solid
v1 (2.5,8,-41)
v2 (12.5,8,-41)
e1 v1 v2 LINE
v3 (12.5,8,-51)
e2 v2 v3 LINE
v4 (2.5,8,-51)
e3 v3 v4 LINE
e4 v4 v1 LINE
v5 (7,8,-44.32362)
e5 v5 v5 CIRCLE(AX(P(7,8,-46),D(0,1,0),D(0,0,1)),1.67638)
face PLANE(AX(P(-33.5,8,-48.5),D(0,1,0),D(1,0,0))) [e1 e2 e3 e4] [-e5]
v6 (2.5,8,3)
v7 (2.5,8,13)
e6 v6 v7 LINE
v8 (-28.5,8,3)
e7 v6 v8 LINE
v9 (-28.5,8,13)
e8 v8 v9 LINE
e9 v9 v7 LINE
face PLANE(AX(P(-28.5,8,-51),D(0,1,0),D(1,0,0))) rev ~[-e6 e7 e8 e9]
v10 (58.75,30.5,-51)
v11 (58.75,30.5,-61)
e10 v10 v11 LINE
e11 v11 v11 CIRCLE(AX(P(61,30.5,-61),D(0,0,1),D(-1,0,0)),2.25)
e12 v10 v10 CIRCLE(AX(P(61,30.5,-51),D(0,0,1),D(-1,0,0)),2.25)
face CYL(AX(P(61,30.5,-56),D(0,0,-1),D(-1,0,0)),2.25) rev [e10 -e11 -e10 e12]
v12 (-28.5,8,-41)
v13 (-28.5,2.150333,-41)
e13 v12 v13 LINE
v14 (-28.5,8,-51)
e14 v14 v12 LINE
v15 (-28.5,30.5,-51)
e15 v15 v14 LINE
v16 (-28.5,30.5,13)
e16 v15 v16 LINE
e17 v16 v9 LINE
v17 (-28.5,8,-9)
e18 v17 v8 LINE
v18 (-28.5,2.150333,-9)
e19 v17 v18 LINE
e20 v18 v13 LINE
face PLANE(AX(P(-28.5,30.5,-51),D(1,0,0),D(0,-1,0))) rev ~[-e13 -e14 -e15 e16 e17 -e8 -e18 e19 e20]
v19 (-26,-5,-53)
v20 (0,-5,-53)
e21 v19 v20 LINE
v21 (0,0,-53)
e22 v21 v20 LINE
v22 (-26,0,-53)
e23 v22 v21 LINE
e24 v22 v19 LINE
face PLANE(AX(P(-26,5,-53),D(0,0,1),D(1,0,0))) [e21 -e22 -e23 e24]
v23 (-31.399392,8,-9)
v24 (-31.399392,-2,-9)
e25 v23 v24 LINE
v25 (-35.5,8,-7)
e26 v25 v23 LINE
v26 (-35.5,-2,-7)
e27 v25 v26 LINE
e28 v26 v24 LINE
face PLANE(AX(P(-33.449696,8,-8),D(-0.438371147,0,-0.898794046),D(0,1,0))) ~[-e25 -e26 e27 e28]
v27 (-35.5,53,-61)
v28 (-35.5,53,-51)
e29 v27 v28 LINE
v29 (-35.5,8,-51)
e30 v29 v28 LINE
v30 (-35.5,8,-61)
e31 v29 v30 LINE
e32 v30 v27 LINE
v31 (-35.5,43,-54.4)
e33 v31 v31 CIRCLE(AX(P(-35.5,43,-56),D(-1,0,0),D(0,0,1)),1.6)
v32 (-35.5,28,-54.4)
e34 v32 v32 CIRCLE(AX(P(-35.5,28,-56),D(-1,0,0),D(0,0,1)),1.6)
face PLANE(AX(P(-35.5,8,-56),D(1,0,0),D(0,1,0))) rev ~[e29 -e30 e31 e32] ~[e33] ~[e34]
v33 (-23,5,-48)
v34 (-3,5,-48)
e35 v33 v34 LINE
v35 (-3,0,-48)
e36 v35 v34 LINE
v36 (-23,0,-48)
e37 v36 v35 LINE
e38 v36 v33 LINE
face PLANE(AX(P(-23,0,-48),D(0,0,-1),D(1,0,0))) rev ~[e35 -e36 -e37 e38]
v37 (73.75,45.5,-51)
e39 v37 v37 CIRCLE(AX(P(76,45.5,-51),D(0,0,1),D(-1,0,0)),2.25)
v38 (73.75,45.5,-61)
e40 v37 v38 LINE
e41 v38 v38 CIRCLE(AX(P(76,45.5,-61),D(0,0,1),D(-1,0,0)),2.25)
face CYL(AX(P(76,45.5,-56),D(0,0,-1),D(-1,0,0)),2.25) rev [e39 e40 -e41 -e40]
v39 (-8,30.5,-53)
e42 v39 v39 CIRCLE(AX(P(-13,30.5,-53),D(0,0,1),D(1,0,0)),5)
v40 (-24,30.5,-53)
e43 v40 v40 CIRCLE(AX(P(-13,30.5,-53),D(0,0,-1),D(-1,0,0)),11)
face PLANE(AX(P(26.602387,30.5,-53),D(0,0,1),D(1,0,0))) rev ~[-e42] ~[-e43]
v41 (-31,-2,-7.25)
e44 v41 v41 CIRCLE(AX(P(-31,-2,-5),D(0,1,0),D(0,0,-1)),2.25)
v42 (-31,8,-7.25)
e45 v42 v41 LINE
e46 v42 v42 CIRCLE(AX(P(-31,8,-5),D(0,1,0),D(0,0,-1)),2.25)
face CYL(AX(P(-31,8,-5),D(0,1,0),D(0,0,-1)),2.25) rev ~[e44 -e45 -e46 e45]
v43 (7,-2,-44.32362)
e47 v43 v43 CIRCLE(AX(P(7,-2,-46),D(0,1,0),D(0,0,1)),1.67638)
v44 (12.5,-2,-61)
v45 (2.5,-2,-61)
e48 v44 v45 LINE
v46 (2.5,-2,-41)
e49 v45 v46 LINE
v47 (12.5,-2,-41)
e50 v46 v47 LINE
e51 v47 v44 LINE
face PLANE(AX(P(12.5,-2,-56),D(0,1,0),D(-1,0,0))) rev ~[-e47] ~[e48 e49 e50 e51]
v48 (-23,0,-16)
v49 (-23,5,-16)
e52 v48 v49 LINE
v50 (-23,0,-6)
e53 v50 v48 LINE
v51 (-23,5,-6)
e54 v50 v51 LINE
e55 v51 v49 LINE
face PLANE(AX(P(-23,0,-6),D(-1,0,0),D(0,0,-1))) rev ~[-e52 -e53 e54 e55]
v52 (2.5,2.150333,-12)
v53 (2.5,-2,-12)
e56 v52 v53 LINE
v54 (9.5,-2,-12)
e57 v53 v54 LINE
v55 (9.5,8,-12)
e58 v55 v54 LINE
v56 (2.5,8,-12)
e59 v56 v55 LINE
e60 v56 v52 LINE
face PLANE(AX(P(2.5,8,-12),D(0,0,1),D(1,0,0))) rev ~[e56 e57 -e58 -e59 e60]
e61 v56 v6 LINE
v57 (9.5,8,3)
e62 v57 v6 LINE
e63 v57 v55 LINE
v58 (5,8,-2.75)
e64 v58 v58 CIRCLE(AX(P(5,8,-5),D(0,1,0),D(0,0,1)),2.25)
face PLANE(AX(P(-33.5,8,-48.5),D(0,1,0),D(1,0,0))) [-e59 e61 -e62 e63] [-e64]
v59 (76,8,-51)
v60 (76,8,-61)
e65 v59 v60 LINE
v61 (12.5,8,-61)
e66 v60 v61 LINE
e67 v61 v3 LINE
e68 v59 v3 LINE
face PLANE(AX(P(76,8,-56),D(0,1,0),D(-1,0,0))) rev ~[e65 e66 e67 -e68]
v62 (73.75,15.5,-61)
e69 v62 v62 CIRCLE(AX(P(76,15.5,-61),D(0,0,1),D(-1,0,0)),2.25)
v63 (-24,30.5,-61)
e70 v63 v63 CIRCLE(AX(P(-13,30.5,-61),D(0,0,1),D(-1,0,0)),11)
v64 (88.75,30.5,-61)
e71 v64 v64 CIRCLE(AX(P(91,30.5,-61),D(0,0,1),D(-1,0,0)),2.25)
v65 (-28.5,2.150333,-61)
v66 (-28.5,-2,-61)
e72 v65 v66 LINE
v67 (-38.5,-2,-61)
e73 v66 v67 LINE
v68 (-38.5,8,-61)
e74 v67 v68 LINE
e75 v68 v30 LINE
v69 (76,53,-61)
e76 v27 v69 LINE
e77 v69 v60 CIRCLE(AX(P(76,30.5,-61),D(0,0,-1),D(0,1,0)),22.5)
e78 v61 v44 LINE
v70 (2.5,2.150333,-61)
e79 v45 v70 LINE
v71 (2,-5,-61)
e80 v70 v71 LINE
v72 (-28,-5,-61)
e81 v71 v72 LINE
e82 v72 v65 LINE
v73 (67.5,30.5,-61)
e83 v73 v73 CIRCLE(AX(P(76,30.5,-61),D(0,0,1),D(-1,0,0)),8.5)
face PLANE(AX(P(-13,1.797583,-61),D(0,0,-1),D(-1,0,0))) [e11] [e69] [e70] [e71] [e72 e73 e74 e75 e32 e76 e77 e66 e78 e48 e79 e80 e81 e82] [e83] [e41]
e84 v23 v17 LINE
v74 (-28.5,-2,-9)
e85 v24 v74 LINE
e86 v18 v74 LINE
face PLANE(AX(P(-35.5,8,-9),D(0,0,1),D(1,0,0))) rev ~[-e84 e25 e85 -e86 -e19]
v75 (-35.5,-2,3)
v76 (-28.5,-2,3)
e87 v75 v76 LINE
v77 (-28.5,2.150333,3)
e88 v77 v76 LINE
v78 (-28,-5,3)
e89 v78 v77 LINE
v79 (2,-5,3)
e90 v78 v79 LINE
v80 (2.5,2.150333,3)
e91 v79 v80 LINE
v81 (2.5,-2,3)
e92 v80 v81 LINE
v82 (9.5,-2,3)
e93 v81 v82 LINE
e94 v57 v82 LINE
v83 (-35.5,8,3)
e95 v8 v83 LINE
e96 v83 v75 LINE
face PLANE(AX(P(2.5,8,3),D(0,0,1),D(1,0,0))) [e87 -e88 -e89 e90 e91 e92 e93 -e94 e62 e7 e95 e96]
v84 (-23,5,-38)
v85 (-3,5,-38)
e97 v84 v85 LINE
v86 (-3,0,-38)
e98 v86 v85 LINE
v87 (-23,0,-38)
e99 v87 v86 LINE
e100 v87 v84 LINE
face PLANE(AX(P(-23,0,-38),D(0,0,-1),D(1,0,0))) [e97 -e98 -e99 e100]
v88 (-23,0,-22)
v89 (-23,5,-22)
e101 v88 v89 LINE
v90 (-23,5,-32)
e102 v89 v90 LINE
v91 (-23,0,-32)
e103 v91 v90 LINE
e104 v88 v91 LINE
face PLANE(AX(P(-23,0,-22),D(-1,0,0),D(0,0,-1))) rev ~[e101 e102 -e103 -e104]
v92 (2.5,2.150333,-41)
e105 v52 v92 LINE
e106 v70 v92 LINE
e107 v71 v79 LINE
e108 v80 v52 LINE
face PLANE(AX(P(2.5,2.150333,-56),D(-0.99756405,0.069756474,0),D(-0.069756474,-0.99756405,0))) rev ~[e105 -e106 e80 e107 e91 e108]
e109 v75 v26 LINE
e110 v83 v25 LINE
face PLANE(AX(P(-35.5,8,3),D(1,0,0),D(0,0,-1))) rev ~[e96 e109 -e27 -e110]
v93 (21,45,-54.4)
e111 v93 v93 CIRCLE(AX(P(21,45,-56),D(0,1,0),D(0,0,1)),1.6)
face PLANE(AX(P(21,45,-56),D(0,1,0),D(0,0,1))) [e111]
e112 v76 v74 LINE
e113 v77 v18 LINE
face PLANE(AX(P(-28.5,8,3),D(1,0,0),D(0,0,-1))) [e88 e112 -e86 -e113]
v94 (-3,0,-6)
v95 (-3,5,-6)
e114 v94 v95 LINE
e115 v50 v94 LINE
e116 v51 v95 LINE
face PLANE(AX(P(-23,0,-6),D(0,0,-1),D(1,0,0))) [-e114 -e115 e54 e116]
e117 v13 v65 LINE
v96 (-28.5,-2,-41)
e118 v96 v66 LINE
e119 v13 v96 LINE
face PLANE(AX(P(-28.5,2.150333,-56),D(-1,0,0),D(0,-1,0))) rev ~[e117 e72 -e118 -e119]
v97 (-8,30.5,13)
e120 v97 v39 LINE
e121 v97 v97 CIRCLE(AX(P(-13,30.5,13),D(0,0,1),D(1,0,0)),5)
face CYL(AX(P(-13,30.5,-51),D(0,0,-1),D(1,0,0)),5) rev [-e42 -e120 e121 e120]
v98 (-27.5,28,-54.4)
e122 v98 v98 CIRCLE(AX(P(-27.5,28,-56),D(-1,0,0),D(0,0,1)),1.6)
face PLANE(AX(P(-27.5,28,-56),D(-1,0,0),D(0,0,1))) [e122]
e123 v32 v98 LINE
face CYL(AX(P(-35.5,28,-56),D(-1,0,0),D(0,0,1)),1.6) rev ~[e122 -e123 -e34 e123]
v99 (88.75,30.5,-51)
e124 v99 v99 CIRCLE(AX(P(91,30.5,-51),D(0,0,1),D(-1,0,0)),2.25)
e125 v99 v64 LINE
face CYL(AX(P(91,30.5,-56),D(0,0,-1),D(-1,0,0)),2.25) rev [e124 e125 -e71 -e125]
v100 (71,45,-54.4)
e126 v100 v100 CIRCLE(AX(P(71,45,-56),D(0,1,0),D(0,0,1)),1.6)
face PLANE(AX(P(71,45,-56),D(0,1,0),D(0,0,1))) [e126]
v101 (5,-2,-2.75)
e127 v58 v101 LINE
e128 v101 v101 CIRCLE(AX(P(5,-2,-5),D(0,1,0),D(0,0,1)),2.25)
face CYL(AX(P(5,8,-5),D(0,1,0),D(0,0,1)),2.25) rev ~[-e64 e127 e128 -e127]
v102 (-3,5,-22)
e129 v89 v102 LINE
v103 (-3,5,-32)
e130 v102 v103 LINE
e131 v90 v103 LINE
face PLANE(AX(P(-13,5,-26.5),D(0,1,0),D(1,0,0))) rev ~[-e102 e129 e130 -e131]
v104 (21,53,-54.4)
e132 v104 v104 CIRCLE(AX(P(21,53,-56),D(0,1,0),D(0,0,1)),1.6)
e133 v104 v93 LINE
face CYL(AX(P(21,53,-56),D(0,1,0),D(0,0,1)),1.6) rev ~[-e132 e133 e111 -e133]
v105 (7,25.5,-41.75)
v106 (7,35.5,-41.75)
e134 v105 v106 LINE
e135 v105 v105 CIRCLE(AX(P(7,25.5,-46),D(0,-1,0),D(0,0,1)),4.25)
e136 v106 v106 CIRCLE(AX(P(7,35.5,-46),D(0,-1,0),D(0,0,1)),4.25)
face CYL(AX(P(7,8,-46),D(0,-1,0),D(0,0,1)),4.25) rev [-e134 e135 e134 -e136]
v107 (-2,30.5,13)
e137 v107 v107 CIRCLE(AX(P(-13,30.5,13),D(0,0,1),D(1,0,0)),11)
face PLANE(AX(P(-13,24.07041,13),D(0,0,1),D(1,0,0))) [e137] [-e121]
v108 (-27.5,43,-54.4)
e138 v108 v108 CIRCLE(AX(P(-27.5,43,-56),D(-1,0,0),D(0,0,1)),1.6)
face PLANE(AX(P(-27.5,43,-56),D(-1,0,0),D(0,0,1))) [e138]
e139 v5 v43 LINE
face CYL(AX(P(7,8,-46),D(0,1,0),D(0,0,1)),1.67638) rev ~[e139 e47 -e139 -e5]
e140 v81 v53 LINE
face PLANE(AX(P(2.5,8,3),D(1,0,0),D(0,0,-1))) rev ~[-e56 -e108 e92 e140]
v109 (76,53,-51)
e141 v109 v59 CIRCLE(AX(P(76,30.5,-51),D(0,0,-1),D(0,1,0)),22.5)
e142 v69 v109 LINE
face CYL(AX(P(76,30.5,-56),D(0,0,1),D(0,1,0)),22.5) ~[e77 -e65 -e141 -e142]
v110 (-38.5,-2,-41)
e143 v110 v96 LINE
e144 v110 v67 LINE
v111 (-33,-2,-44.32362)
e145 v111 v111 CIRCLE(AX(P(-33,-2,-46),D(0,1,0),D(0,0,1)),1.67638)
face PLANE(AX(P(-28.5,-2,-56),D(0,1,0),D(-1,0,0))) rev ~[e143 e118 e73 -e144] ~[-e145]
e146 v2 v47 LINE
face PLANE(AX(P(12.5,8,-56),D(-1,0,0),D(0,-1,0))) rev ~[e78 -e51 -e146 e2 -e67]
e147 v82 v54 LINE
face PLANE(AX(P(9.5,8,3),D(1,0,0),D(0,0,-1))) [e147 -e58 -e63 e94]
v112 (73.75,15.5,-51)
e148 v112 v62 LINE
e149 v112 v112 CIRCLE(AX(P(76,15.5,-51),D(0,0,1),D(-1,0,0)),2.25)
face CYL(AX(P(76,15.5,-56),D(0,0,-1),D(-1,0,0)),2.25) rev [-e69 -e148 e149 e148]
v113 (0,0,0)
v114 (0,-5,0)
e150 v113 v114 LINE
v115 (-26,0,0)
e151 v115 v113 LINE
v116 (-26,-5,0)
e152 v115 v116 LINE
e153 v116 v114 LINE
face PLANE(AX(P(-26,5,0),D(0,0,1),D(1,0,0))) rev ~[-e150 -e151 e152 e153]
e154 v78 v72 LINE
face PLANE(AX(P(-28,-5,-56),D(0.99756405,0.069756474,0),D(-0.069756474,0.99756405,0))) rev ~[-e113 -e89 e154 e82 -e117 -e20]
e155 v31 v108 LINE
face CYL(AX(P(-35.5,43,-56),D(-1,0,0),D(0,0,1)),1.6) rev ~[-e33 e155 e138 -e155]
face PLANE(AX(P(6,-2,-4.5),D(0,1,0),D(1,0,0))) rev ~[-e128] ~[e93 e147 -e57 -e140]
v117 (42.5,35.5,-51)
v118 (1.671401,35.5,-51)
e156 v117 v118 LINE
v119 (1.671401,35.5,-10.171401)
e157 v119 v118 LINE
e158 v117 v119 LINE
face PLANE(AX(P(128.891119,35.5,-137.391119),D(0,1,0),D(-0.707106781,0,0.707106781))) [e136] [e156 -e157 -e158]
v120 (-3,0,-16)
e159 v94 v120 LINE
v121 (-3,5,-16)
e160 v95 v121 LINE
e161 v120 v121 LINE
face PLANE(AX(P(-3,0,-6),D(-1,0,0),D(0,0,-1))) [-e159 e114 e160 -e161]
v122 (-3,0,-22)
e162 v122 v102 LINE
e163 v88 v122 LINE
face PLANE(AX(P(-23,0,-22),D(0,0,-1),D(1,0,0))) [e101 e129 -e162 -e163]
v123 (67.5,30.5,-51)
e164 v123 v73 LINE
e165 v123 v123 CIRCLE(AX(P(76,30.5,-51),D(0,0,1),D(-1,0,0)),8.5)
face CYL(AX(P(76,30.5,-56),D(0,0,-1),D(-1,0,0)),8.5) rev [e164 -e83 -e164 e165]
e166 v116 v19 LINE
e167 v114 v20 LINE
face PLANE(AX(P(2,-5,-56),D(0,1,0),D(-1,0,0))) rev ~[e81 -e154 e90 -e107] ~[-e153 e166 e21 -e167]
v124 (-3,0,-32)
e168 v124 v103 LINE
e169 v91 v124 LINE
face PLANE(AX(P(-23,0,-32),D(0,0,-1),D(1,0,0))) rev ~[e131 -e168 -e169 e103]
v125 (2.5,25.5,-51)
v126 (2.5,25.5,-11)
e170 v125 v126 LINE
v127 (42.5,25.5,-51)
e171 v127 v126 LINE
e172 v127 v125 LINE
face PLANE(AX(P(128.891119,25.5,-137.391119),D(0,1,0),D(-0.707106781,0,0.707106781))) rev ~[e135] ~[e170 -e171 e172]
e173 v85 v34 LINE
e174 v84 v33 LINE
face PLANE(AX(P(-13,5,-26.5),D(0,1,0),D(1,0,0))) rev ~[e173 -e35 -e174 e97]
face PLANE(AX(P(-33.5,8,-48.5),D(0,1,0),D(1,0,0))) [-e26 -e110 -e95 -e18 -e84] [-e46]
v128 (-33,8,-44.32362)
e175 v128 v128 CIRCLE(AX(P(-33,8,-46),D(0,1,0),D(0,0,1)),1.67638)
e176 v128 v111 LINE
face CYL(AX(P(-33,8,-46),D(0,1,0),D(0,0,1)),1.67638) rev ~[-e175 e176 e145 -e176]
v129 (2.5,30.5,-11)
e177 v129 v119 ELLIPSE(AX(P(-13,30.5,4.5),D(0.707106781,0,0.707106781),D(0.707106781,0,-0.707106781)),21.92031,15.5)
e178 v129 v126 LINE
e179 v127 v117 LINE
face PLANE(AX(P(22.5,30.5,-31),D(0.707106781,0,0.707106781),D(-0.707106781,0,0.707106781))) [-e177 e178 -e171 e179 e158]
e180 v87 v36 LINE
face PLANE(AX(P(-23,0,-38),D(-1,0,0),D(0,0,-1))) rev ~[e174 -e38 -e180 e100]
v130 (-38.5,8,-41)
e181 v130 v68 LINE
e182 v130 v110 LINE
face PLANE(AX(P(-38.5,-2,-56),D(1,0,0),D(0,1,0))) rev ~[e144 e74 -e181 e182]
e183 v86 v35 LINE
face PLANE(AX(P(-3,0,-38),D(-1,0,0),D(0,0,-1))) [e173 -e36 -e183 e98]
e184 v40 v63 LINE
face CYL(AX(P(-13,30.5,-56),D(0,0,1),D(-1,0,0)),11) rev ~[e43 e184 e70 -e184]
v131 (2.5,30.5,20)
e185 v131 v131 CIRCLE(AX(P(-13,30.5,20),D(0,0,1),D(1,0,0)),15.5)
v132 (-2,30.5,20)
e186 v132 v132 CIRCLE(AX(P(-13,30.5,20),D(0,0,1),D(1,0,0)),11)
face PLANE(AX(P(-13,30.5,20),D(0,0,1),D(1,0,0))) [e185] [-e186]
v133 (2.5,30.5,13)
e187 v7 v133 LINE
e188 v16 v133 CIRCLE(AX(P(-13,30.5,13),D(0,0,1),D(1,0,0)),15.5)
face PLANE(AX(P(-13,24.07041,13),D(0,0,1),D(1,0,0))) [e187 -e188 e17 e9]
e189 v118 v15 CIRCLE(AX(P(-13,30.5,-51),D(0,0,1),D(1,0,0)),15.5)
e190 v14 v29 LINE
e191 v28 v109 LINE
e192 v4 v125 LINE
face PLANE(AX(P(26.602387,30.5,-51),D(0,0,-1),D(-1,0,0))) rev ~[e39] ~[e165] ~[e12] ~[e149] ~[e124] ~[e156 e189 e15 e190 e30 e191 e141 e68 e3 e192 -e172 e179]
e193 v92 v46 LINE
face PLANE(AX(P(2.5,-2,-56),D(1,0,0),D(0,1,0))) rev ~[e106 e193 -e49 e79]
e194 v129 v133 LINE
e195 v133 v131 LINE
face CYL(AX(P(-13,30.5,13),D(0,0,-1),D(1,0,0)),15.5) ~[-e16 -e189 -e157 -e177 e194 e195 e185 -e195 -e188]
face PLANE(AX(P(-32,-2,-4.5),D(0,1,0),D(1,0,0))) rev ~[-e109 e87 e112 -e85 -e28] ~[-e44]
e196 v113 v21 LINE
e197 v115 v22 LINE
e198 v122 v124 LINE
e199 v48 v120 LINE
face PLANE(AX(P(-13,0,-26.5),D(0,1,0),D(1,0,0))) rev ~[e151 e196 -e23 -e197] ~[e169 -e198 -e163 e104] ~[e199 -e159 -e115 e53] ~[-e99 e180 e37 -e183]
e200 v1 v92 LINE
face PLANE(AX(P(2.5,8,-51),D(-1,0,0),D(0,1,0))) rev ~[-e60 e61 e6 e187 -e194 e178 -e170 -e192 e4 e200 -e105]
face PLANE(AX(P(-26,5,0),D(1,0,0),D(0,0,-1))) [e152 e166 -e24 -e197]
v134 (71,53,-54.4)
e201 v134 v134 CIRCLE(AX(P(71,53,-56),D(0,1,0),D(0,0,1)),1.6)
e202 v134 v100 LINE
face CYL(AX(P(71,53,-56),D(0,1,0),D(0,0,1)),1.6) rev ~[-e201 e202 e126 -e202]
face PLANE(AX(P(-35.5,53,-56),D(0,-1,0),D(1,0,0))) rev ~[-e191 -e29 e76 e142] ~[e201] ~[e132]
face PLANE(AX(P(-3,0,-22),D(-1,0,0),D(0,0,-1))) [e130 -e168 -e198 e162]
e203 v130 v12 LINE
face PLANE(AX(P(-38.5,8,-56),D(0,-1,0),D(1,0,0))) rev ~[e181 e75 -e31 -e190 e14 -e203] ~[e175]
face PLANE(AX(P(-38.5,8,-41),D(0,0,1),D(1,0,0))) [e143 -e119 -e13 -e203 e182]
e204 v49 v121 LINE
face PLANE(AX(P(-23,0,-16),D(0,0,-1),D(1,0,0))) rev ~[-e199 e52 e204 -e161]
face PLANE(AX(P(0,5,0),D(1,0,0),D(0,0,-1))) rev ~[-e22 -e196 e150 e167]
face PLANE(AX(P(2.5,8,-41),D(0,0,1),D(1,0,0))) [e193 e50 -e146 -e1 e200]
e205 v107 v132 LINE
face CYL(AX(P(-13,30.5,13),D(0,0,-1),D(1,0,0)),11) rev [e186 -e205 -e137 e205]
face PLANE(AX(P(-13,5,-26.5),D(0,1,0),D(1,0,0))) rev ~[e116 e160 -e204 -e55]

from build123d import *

# Parameters (mm, degrees)
SKETCH1_W                = 26
SKETCH1_H                = 53
SKETCH1_W_2              = 20
SKETCH1_H_2              = 10
BOSS_EXTRUDE1_DEPTH      = 5
SKETCH2_W                = 31
SKETCH2_H                = 59
SKETCH2_W_2              = 26
SKETCH2_H_2              = 53
BOSS_EXTRUDE2_DEPTH      = 10
SKETCH3_W                = 31
SKETCH3_H                = 59
BOSS_EXTRUDE3_DEPTH      = 3
CHAMFER1_SIZE            = 0.5
CHAMFER1_SIZE2           = 7.150333128
SKETCH10_W               = 7
SKETCH10_H               = 15
SKETCH10_R               = 2.25
BOSS_EXTRUDE7_DEPTH      = 10
SKETCH11_W               = 7
SKETCH11_H               = 3
CUT_EXTRUDE4_DEPTH       = 10
CHAMFER2_SIZE            = 2
CHAMFER2_SIZE2           = 4.100607683
BOSS_EXTRUDE8_REACH      = 69.567
SKETCH12_W               = 10
SKETCH12_H               = 15
SKETCH12_R               = 1.676379865
BOSS_EXTRUDE9_START      = -56
SKETCH15_R               = 8.5
SKETCH15_R_2             = 2.25
SKETCH15_R_3             = 11
BOSS_EXTRUDE9_DEPTH      = 5
BOSS_EXTRUDE9_DEPTH_BACK = 5
SKETCH16_R               = 2.25
SKETCH16_R_2             = 8.5
SKETCH16_R_3             = 5
BOSS_EXTRUDE10_DEPTH     = 2
SKETCH17_R               = 5
BOSS_EXTRUDE11_DEPTH     = 64
RIB2_REACH               = 123.175
SKETCH20_WALL_W          = 300.919527638
SKETCH20_WALL_H          = 10
BOSS_EXTRUDE12_DEPTH     = 5
SKETCH22_R               = 15.5
SKETCH22_R_2             = 11
BOSS_EXTRUDE13_DEPTH     = 7
SKETCH23_R               = 4.25
CUT_EXTRUDE5_DEPTH       = 29
SKETCH24_R               = 1.6
CUT_EXTRUDE6_DEPTH       = 8
SKETCH25_R               = 1.6
CUT_EXTRUDE7_DEPTH       = 8


with BuildPart() as part:
    # Sketch1 → Boss-Extrude1 (new body)
    with BuildSketch(Plane(origin=(0, 0, 0), x_dir=(1, 0, 0), z_dir=(0, 1, 0))):
        with Locations((-13, 26.5)):
            Rectangle(SKETCH1_W, SKETCH1_H)
        with Locations((-13, 27)):
            Rectangle(SKETCH1_W_2, SKETCH1_H_2, mode=Mode.SUBTRACT)
        with Locations((-13, 43)):
            Rectangle(SKETCH1_W_2, SKETCH1_H_2, mode=Mode.SUBTRACT)
        with Locations((-13, 11)):
            Rectangle(SKETCH1_W_2, SKETCH1_H_2, mode=Mode.SUBTRACT)
    extrude(amount=BOSS_EXTRUDE1_DEPTH)

    # Sketch2 → Boss-Extrude2 (add)
    with BuildSketch(Plane(origin=(0, 5, 0), x_dir=(1, 0, 0), z_dir=(0, 1, 0))):
        with Locations((-13, 26.5)):
            Rectangle(SKETCH2_W, SKETCH2_H)
        with Locations((-13, 26.5)):
            Rectangle(SKETCH2_W_2, SKETCH2_H_2, mode=Mode.SUBTRACT)
    extrude(amount=-BOSS_EXTRUDE2_DEPTH)

    # Sketch3 → Boss-Extrude3 (add)
    with BuildSketch(Plane(origin=(0, 5, 0), x_dir=(1, 0, 0), z_dir=(0, 1, 0))):
        with Locations((-13, 26.5)):
            Rectangle(SKETCH3_W, SKETCH3_H)
    extrude(amount=BOSS_EXTRUDE3_DEPTH)

    # Chamfer1
    chamfer1_edges = [part.edges().sort_by_distance(p)[0] for p in [
        (-28.5, -5, -26.5),
        (2.5, -5, -26.5),
    ]]
    chamfer1_side = [part.faces().sort_by_distance(p)[0] for p in [
        (-13, -5, -55.333516692),
    ]]
    chamfer(chamfer1_edges, length=CHAMFER1_SIZE, length2=CHAMFER1_SIZE2, reference=chamfer1_side[0])

    # Sketch10 → Boss-Extrude7 (add)
    with BuildSketch(Plane(origin=(0, 8, 0), x_dir=(1, 0, 0), z_dir=(0, 1, 0))):
        with Locations((6, 4.5)):
            Rectangle(SKETCH10_W, SKETCH10_H)
        with Locations(Location((5, 5, 0), (0, 0, 270))):
            Circle(SKETCH10_R, mode=Mode.SUBTRACT)
        with Locations((-32, 4.5)):
            Rectangle(SKETCH10_W, SKETCH10_H)
        with Locations(Location((-31, 5, 0), (0, 0, 90))):
            Circle(SKETCH10_R, mode=Mode.SUBTRACT)
    extrude(amount=-BOSS_EXTRUDE7_DEPTH)

    # Sketch11 → Cut-Extrude4 (cut)
    with BuildSketch(Plane(origin=(0, 8, 0), x_dir=(1, 0, 0), z_dir=(0, 1, 0))):
        with Locations((-32, 10.5)):
            Rectangle(SKETCH11_W, SKETCH11_H)
    extrude(amount=-CUT_EXTRUDE4_DEPTH, mode=Mode.SUBTRACT)

    # Chamfer2
    chamfer2_edges = [part.edges().sort_by_distance(p)[0] for p in [
        (-35.5, 3, -9),
    ]]
    chamfer2_side = [part.faces().sort_by_distance(p)[0] for p in [
        (-35.5, 3, -3),
    ]]
    chamfer(chamfer2_edges, length=CHAMFER2_SIZE, length2=CHAMFER2_SIZE2, reference=chamfer2_side[0])

    # Boss-Extrude8: up to this face of the body (flat: up to its plane)
    boss_extrude8_end = Plane(part.part.faces().sort_by_distance((6, -2, 2.834470546))[0])
    # Sketch12 → Boss-Extrude8 (add, up to the picked face)
    with BuildSketch(Plane(origin=(0, 8, 0), x_dir=(1, 0, 0), z_dir=(0, 1, 0)), mode=Mode.PRIVATE) as boss_extrude8_sk1:
        with Locations((7.5, 48.5)):
            Rectangle(SKETCH12_W, SKETCH12_H)
        with Locations(Location((7, 46, 0), (0, 0, 270))):
            Circle(SKETCH12_R, mode=Mode.SUBTRACT)
    boss_extrude8_tool1 = split(extrude(boss_extrude8_sk1.sketch, amount=-BOSS_EXTRUDE8_REACH, mode=Mode.PRIVATE), bisect_by=boss_extrude8_end, keep=Keep.BOTH, mode=Mode.PRIVATE)
    # Sketch12 → Boss-Extrude8 (add, up to the picked face)
    with BuildSketch(Plane(origin=(0, 8, 0), x_dir=(1, 0, 0), z_dir=(0, 1, 0)), mode=Mode.PRIVATE) as boss_extrude8_sk2:
        with Locations((-33.5, 48.5)):
            Rectangle(SKETCH12_W, SKETCH12_H)
        with Locations(Location((-33, 46, 0), (0, 0, 270))):
            Circle(SKETCH12_R, mode=Mode.SUBTRACT)
    boss_extrude8_tool2 = split(extrude(boss_extrude8_sk2.sketch, amount=-BOSS_EXTRUDE8_REACH, mode=Mode.PRIVATE), bisect_by=boss_extrude8_end, keep=Keep.BOTH, mode=Mode.PRIVATE)
    add(boss_extrude8_tool1.solids().sort_by(Axis((7.531269, 8, -48.656347), (0, -1, 0)))[0])
    add(boss_extrude8_tool2.solids().sort_by(Axis((-33.531269, 8, -48.656347), (0, -1, 0)))[0])

    # Sketch15 → Boss-Extrude9 (add, two sides)
    with BuildSketch(Plane.XY.offset(BOSS_EXTRUDE9_START)) as boss_extrude9_sk:
        with BuildLine():
            Line((-13, 53), (76, 53))
            ThreePointArc((76, 53), (98.5, 30.5), (76, 8))
            Line((76, 8), (-13, 8))
            Line((-13, 8), (-35.5, 8))
            Line((-35.5, 8), (-35.5, 53))
            Line((-35.5, 53), (-13, 53))
        make_face()
        with Locations(Location((76, 30.5, 0), (0, 0, 180))):
            Circle(SKETCH15_R, mode=Mode.SUBTRACT)
        with Locations(Location((76, 45.5, 0), (0, 0, 180))):
            Circle(SKETCH15_R_2, mode=Mode.SUBTRACT)
        with Locations(Location((76, 15.5, 0), (0, 0, 180))):
            Circle(SKETCH15_R_2, mode=Mode.SUBTRACT)
        with Locations(Location((91, 30.5, 0), (0, 0, 180))):
            Circle(SKETCH15_R_2, mode=Mode.SUBTRACT)
        with Locations(Location((61, 30.5, 0), (0, 0, 180))):
            Circle(SKETCH15_R_2, mode=Mode.SUBTRACT)
        with Locations(Location((-13, 30.5, 0), (0, 0, 180))):
            Circle(SKETCH15_R_3, mode=Mode.SUBTRACT)
    extrude(amount=BOSS_EXTRUDE9_DEPTH)
    extrude(boss_extrude9_sk.sketch, amount=-BOSS_EXTRUDE9_DEPTH_BACK)

    # Sketch16 → Boss-Extrude10 (add)
    with BuildSketch(Plane.XY.offset(-51)):
        with BuildLine():
            Line((-35.5, 53), (-35.5, 8))
            Line((-35.5, 8), (12.5, 8))
            Line((12.5, 8), (76, 8))
            ThreePointArc((76, 8), (98.5, 30.5), (76, 53))
            Line((76, 53), (-35.5, 53))
        make_face()
        with Locations(Location((76, 45.5, 0), (0, 0, 180))):
            Circle(SKETCH16_R, mode=Mode.SUBTRACT)
        with Locations(Location((91, 30.5, 0), (0, 0, 180))):
            Circle(SKETCH16_R, mode=Mode.SUBTRACT)
        with Locations(Location((76, 15.5, 0), (0, 0, 180))):
            Circle(SKETCH16_R, mode=Mode.SUBTRACT)
        with Locations(Location((76, 30.5, 0), (0, 0, 180))):
            Circle(SKETCH16_R_2, mode=Mode.SUBTRACT)
        with Locations(Location((61, 30.5, 0), (0, 0, 180))):
            Circle(SKETCH16_R, mode=Mode.SUBTRACT)
        with Locations((-13, 30.5)):
            Circle(SKETCH16_R_3, mode=Mode.SUBTRACT)
    extrude(amount=-BOSS_EXTRUDE10_DEPTH)

    # Sketch17 → Boss-Extrude11 (add)
    with BuildSketch(Plane.XY.offset(-51)):
        with BuildLine():
            Line((-28.5, 30.5), (-28.5, 8))
            Line((-28.5, 8), (2.5, 8))
            Line((2.5, 8), (2.5, 30.5))
            ThreePointArc((2.5, 30.5), (-13, 46), (-28.5, 30.5))
        make_face()
        with Locations((-13, 30.5)):
            Circle(SKETCH17_R, mode=Mode.SUBTRACT)
    extrude(amount=BOSS_EXTRUDE11_DEPTH)

    # Sketch20 wall → Rib2 (add, up to next)
    with BuildSketch(Plane(origin=(22.5, 30.5, -31), x_dir=(-0.707106781187, 0, 0.707106781187), z_dir=(0.707106781187, 0, 0.707106781187)), mode=Mode.PRIVATE) as rib2_sk1:
        Rectangle(SKETCH20_WALL_W, SKETCH20_WALL_H)
    rib2_tool1 = extrude(rib2_sk1.sketch, amount=-RIB2_REACH, mode=Mode.PRIVATE) - part.part
    add(rib2_tool1.solids().sort_by_distance((22.5, 30.5, -31))[0])

    # Sketch21 → Boss-Extrude12 (add)
    with BuildSketch(Plane(origin=(0, 0, -56), x_dir=(-1, 0, 0), z_dir=(0, 0, -1))):
        Polygon((-2, -5), (28, -5), (28.5, 2.150333128), (28.5, -2), (38.5, -2), (38.5, 8), (35.5, 8), (-12.5, 8), (-12.5, -2), (-2.5, -2), (-2.5, 2.150333128), align=None)
    extrude(amount=BOSS_EXTRUDE12_DEPTH)

    # Sketch22 → Boss-Extrude13 (add)
    with BuildSketch(Plane.XY.offset(13)):
        with Locations((-13, 30.5)):
            Circle(SKETCH22_R)
        with Locations((-13, 30.5)):
            Circle(SKETCH22_R_2, mode=Mode.SUBTRACT)
    extrude(amount=BOSS_EXTRUDE13_DEPTH)

    # Sketch23 → Cut-Extrude5 (cut)
    with BuildSketch(Plane(origin=(0, 8, 0), x_dir=(1, 0, 0), z_dir=(0, 1, 0))):
        with Locations(Location((7, 46, 0), (0, 0, 270))):
            Circle(SKETCH23_R)
    extrude(amount=CUT_EXTRUDE5_DEPTH, mode=Mode.SUBTRACT)

    # Sketch24 → Cut-Extrude6 (cut)
    with BuildSketch(Plane.ZY.offset(35.5)):
        with Locations((-56, 28)):
            Circle(SKETCH24_R)
        with Locations((-56, 43)):
            Circle(SKETCH24_R)
    extrude(amount=-CUT_EXTRUDE6_DEPTH, mode=Mode.SUBTRACT)

    # Sketch25 → Cut-Extrude7 (cut)
    with BuildSketch(Plane(origin=(0, 53, 0), x_dir=(1, 0, 0), z_dir=(0, 1, 0))):
        with Locations(Location((71, 56, 0), (0, 0, 270))):
            Circle(SKETCH25_R)
        with Locations(Location((21, 56, 0), (0, 0, 270))):
            Circle(SKETCH25_R)
    extrude(amount=-CUT_EXTRUDE7_DEPTH, mode=Mode.SUBTRACT)


solid = part.part
